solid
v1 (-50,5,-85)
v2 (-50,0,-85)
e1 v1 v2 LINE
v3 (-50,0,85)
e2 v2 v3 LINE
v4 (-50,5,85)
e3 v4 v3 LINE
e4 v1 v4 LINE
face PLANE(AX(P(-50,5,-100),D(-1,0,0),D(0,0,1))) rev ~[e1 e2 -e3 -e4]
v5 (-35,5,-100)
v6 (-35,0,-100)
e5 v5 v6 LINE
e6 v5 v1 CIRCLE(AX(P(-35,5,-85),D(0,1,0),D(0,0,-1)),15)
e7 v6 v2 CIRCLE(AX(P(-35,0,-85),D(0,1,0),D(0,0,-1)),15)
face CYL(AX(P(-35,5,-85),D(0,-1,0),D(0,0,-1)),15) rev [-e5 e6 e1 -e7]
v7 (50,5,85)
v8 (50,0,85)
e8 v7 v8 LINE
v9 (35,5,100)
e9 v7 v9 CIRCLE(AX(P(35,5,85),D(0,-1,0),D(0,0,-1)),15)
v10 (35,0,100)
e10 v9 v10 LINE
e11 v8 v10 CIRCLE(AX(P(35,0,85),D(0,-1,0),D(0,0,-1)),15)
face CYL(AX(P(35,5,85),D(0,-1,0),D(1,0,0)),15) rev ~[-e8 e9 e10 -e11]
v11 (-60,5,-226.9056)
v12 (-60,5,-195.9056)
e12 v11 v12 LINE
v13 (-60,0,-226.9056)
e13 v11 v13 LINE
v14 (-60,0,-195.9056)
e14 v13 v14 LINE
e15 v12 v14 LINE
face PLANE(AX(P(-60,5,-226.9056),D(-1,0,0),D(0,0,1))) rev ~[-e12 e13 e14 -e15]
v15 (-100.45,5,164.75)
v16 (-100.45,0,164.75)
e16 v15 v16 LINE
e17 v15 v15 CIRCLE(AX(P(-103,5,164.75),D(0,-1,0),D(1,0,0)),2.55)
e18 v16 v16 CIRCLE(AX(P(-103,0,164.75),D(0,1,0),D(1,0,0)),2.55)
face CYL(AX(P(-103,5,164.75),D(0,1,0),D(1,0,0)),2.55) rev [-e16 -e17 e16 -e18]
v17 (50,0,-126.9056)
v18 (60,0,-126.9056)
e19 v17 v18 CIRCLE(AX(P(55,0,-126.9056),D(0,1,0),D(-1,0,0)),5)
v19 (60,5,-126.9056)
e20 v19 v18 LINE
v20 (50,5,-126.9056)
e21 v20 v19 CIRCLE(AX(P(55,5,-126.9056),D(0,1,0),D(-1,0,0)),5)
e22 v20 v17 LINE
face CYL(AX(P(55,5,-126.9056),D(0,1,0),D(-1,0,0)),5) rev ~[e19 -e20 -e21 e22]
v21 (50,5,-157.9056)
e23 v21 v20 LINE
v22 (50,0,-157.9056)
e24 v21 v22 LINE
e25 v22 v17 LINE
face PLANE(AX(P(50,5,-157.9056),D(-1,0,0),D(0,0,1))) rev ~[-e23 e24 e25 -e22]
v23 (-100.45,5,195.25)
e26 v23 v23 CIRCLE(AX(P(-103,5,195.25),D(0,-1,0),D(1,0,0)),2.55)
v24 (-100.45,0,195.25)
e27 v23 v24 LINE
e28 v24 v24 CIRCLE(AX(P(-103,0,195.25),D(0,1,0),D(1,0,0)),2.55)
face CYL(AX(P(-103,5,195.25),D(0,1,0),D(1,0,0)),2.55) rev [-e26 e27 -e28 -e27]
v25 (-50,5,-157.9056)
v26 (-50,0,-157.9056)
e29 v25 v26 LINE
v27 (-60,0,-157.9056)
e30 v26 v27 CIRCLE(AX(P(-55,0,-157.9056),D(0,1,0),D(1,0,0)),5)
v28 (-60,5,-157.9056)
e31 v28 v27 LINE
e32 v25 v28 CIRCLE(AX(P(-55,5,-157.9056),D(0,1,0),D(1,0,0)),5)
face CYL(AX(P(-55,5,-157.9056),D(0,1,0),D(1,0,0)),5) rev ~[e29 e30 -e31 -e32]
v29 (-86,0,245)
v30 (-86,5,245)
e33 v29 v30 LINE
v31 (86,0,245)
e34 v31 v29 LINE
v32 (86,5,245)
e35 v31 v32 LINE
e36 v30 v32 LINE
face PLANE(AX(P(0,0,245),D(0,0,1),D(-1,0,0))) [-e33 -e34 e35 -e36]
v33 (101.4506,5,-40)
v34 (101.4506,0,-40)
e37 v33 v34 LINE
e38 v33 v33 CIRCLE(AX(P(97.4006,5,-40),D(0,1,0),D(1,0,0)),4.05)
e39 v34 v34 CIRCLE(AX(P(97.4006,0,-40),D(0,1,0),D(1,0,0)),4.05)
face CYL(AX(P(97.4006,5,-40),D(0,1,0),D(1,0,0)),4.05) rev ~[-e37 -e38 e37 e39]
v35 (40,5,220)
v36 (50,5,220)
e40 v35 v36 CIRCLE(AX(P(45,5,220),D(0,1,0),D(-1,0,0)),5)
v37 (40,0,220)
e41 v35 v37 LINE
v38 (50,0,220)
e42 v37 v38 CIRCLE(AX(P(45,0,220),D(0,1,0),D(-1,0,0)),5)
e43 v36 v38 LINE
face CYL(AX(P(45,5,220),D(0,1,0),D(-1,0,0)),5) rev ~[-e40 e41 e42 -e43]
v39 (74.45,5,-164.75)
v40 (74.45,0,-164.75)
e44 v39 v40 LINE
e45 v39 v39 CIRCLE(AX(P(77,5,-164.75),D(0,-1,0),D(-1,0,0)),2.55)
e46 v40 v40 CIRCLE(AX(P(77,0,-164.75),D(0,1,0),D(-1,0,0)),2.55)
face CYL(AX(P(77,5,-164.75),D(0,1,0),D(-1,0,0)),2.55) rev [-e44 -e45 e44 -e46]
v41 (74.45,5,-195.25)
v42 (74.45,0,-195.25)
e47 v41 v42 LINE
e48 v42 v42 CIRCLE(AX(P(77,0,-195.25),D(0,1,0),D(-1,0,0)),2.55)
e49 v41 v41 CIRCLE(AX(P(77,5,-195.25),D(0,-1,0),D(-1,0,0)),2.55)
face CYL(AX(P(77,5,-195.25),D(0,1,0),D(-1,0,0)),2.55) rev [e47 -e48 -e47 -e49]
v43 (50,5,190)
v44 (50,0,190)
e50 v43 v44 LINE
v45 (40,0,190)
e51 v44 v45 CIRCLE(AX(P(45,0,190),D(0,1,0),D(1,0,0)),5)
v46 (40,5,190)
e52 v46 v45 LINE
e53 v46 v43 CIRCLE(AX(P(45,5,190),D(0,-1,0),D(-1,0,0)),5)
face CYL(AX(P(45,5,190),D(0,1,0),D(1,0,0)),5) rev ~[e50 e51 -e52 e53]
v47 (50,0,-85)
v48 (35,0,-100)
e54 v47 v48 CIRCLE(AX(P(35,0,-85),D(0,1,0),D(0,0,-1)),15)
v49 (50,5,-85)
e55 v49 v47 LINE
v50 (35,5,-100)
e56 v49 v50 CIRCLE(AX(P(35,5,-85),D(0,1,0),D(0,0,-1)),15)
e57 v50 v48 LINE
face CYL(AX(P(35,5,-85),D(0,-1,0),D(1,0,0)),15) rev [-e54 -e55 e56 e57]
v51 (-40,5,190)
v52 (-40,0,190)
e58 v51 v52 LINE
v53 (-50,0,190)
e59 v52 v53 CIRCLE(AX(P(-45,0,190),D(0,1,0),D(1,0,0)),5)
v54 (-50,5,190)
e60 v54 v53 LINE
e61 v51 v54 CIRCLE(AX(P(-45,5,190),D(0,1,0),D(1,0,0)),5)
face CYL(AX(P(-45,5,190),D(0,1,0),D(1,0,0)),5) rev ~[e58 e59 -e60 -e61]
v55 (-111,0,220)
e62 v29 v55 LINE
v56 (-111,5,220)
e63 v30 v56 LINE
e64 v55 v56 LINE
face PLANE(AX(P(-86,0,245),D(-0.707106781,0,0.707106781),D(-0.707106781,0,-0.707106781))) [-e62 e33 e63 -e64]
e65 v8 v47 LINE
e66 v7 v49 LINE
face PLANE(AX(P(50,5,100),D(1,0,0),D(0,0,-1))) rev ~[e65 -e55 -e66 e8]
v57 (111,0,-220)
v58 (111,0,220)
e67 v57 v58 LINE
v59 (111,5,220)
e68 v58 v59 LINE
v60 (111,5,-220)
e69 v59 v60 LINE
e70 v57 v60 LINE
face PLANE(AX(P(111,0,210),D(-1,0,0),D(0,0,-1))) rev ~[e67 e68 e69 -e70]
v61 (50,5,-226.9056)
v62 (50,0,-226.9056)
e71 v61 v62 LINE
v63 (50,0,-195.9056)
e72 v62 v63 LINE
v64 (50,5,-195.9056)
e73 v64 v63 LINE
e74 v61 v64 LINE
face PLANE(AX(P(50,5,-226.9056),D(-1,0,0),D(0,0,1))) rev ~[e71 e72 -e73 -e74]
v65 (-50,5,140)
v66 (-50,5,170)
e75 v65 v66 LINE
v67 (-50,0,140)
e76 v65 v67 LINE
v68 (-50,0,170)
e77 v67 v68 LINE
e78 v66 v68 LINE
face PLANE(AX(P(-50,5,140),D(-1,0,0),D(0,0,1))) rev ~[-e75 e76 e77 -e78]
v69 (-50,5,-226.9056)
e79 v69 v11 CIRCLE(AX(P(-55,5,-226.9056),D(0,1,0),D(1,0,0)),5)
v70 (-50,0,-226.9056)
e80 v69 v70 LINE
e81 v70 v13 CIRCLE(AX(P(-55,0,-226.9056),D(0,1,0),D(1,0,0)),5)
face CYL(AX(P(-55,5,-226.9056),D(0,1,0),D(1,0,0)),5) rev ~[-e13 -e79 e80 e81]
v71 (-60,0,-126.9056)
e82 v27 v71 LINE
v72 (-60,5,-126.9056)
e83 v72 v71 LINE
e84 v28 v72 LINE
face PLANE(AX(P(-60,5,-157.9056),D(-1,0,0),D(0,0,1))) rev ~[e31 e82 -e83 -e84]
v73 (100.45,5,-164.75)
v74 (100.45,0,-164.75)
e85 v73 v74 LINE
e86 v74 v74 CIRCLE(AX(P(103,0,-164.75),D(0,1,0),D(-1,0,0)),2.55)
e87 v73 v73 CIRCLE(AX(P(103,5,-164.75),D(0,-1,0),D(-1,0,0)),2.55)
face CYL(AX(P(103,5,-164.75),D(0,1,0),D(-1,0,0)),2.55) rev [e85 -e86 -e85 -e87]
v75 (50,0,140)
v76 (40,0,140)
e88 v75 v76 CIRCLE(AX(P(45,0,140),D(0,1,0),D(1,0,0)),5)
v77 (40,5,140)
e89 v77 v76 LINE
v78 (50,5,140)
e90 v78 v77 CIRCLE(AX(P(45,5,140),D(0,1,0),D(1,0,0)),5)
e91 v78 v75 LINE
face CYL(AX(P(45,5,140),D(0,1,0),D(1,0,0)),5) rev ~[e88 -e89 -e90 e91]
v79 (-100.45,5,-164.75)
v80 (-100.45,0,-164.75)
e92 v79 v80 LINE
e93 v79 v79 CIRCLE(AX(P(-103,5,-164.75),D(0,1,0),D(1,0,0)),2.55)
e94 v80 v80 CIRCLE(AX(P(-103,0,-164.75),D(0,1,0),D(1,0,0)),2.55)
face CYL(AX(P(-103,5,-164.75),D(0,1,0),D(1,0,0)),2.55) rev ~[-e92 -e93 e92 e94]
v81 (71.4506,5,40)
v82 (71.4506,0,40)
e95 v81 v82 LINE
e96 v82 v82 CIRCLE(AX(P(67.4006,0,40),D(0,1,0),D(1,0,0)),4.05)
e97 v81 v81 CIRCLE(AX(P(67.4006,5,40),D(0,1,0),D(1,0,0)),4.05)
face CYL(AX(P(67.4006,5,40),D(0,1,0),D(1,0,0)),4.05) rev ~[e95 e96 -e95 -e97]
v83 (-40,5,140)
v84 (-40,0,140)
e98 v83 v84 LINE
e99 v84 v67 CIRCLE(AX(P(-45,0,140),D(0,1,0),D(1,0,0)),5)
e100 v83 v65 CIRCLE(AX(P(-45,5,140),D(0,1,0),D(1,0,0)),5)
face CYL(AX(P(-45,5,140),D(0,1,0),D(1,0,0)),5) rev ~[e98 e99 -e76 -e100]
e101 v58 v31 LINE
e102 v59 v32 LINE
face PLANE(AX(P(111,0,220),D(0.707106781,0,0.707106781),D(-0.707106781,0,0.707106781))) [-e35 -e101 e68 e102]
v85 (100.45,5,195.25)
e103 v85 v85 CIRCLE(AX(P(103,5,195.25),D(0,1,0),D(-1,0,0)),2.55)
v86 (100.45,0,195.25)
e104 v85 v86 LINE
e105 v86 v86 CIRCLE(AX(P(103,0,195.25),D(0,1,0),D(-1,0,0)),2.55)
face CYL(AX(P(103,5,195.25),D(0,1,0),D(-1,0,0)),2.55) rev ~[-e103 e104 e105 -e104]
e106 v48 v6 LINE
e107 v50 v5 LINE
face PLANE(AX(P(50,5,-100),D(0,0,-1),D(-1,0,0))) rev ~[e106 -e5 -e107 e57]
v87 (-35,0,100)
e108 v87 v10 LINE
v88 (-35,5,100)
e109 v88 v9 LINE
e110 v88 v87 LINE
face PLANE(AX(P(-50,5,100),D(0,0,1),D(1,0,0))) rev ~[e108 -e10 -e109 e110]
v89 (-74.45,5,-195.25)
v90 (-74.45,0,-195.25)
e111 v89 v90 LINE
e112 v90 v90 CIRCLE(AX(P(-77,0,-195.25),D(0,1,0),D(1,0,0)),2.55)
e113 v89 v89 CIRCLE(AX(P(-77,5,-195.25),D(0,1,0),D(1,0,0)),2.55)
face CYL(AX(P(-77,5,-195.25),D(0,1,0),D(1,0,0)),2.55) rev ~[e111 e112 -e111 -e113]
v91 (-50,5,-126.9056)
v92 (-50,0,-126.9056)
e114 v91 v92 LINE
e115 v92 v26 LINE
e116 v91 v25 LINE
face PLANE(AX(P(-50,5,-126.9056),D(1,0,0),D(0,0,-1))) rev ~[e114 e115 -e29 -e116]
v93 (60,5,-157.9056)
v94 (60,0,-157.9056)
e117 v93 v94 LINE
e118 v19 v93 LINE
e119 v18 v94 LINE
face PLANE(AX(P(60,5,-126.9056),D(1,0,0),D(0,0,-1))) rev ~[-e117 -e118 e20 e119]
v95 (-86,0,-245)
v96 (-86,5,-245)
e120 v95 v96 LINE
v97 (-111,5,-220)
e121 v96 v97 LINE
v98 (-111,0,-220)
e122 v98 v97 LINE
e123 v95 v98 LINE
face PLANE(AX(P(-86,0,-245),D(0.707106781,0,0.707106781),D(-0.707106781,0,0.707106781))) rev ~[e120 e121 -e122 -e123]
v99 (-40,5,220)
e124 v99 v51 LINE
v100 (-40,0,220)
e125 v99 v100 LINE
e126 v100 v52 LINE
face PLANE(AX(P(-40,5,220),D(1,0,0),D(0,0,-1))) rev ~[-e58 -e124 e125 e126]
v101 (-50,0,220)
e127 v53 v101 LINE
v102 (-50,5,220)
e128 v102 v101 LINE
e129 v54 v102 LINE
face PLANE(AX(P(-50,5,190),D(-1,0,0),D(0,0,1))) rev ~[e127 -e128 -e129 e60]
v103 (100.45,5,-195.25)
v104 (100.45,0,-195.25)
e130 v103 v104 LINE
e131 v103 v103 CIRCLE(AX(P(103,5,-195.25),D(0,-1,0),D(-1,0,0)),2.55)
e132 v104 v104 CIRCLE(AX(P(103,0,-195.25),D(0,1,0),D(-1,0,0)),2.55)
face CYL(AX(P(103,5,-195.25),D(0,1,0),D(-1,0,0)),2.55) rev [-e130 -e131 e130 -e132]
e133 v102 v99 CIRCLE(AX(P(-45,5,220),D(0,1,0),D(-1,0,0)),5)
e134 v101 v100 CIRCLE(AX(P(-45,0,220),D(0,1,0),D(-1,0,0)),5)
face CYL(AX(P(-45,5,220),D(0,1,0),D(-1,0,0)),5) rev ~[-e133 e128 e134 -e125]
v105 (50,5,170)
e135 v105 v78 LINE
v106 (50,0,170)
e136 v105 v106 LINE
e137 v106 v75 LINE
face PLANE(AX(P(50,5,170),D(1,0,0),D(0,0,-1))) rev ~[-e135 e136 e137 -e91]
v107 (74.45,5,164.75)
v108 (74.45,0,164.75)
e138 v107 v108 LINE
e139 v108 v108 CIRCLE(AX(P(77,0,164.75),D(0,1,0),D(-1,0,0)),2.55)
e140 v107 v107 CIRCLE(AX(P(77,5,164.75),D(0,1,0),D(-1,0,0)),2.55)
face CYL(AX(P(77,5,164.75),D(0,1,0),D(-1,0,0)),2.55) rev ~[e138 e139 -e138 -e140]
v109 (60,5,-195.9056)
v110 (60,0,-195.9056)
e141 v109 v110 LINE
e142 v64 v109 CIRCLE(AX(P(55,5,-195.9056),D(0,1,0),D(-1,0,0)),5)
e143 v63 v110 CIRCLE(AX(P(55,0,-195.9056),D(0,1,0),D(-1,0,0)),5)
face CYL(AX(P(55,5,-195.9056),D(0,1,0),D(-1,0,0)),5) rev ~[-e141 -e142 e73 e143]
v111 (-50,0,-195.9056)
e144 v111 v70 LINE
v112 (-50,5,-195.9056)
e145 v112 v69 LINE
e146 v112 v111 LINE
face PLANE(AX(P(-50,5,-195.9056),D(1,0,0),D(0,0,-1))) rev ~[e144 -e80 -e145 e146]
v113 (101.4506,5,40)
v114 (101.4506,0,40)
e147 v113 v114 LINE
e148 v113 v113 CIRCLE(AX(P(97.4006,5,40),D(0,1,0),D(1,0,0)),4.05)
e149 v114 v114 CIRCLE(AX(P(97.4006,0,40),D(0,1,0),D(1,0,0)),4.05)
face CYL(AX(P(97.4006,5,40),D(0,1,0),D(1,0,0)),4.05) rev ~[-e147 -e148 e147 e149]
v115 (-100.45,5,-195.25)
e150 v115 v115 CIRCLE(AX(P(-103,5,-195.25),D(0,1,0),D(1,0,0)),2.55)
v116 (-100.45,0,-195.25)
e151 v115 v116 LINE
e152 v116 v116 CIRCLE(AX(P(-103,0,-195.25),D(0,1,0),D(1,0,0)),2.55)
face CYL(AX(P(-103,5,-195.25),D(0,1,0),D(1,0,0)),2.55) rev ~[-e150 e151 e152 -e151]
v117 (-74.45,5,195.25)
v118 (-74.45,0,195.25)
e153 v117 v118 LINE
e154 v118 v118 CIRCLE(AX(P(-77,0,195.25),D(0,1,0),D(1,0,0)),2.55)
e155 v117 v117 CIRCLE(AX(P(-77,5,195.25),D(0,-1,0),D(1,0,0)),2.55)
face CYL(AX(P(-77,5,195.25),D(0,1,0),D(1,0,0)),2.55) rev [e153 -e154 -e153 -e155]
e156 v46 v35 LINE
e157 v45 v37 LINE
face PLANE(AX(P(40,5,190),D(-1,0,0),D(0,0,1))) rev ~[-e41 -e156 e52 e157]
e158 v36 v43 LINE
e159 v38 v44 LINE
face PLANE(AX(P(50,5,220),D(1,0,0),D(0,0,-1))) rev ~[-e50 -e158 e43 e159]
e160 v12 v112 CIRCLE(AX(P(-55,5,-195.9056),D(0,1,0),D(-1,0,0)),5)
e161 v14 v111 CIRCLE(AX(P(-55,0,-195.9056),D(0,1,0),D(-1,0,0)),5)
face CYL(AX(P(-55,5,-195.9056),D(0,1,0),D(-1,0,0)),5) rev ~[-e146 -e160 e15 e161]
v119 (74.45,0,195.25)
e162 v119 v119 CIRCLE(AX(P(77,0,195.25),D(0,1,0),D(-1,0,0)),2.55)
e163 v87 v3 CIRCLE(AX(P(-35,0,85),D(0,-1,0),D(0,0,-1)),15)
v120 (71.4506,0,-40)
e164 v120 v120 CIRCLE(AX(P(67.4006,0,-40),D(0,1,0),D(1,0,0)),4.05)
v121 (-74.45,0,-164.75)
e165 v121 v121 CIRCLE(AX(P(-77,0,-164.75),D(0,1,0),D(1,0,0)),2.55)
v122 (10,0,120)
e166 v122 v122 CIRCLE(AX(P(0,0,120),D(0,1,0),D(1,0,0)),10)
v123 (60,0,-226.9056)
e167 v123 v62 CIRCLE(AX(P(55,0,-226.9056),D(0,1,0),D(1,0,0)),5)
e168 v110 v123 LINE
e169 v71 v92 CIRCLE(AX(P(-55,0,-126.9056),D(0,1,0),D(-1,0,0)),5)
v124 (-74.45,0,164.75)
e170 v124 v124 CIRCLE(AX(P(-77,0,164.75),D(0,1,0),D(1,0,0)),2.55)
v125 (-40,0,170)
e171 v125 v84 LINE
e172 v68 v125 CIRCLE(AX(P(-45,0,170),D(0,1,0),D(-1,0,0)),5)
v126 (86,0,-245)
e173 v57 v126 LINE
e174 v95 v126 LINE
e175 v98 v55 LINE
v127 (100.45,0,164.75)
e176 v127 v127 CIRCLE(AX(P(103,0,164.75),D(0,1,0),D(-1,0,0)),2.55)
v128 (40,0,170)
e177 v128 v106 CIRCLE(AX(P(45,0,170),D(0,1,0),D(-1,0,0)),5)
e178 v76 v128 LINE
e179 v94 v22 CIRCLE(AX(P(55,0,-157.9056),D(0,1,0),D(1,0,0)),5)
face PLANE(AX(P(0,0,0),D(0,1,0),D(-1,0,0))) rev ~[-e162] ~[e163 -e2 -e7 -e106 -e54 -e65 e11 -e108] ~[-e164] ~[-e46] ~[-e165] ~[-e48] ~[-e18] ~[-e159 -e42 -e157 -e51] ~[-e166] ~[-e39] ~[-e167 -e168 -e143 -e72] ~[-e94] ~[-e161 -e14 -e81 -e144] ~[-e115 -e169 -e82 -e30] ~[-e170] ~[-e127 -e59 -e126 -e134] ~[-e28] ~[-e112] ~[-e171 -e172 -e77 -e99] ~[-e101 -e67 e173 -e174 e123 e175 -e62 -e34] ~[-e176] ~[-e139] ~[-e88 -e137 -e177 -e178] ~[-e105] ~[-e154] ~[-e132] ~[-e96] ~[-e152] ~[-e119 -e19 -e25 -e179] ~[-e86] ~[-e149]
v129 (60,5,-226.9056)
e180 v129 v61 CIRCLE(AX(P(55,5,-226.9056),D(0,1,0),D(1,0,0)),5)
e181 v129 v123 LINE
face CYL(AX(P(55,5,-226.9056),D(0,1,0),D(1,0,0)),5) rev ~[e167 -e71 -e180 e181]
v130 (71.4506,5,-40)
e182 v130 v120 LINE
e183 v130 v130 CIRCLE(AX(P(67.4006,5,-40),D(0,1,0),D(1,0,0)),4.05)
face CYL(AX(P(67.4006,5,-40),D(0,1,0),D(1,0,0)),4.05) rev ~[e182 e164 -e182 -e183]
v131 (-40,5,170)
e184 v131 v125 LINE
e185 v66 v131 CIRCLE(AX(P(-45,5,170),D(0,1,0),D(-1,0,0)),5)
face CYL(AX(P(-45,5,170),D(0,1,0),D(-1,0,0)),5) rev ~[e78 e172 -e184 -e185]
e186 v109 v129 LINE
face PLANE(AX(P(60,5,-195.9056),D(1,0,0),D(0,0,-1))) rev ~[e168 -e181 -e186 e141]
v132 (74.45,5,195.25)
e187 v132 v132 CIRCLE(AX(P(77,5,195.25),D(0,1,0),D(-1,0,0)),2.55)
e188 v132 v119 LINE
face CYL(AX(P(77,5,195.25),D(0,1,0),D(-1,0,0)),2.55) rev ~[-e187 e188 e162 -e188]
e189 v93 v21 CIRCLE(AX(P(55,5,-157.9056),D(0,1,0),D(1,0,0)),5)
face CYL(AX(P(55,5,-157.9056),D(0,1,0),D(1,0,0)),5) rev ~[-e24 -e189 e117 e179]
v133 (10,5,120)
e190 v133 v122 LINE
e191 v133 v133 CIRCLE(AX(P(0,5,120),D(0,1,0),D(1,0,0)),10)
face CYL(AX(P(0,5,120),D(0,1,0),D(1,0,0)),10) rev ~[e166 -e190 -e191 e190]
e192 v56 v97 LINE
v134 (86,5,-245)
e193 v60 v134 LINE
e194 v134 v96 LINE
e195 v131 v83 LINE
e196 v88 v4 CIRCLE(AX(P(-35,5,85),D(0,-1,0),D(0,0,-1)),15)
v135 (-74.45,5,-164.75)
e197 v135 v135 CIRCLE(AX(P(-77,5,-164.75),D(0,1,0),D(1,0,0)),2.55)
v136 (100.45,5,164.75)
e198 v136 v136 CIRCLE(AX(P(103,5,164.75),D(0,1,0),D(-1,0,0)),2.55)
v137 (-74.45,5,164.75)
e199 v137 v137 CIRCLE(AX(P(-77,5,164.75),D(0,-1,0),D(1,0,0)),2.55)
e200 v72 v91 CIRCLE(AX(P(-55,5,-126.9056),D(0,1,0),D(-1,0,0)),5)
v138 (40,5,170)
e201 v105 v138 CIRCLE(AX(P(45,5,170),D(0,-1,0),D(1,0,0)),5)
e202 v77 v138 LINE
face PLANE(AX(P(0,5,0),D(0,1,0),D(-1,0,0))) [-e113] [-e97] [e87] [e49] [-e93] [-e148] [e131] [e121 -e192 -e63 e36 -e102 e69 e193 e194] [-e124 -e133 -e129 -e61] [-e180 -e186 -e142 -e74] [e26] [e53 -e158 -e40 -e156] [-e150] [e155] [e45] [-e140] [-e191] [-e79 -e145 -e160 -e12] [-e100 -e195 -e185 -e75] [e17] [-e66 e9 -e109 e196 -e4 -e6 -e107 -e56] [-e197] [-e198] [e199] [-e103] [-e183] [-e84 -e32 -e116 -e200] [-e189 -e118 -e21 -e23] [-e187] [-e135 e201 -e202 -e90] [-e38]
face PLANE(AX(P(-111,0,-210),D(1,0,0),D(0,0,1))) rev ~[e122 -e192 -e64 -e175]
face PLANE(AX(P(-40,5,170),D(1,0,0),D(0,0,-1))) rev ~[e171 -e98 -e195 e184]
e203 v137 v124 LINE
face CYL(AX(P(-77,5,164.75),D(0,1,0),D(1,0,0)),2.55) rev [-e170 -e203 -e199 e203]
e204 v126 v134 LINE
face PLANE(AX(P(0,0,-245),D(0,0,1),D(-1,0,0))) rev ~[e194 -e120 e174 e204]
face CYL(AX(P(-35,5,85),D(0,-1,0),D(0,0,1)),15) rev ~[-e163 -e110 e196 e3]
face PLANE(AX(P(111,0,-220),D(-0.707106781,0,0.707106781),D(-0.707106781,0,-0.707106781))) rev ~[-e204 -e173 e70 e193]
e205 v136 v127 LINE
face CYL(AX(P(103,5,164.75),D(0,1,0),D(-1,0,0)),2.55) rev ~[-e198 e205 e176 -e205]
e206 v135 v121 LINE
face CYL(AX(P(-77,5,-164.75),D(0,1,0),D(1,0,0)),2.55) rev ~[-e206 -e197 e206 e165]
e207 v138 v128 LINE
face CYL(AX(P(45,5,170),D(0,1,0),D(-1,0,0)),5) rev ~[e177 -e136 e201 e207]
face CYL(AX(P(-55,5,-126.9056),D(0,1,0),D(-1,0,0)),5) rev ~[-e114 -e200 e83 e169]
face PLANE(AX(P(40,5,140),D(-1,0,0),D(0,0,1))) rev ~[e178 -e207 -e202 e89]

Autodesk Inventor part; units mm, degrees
ref_plane "YZ Plane" through (0, 0, 0) normal (1, 0, 0) x (0, 1, 0)
ref_plane "XZ Plane" through (0, 0, 0) normal (0, 1, 0) x (-1, 0, 0)
ref_plane "XY Plane" through (0, 0, 0) normal (0, 0, 1) x (1, 0, 0)
sketch "Sketch1" plane through (0, 0, 0) normal (0, 1, 0) x (-1, 0, 0)
  line L0 (111, 210) -> (-111, 210)
  line L1 (-111, 210) -> (-111, -210)
  line L2 (-111, -210) -> (111, -210)
  line L3 (111, -210) -> (111, 210)
  line L4 (111, 210) -> (-111, -210) construction
  line L5 (-111, 210) -> (111, -210) construction
  line L6 (111, -210) -> (75, -210) construction
  line L7 (75, -210) -> (75, -168) construction
  line L8 (75, -168) -> (111, -168) construction
  line L9 (111, -168) -> (111, -210) construction
  line L10 (-111, -210) -> (-75, -210) construction
  line L11 (-75, -210) -> (-75, -168) construction
  line L12 (-75, -168) -> (-111, -168) construction
  line L13 (-111, -168) -> (-111, -210) construction
  line L14 (-111, 210) -> (-75, 210) construction
  line L15 (-75, 210) -> (-75, 209.4774) construction
  line L16 (-75, 209.4774) -> (-111, 209.4774) construction
  line L17 (-111, 209.4774) -> (-111, 210) construction
  line L18 (111, 210) -> (75, 210) construction
  line L19 (75, 210) -> (75, 209.4774) construction
  line L20 (75, 209.4774) -> (111, 209.4774) construction
  line L21 (111, 209.4774) -> (111, 210) construction
  line L22 (75, -100) -> (-75, -100) construction
  line L23 (-75, -100) -> (-75, -210) construction
  line L24 (-75, -210) -> (75, -210) construction
  line L25 (75, -210) -> (75, -100) construction
  line L26 (75, -100) -> (-75, -210) construction
  line L27 (-75, -100) -> (75, -210) construction
  line L28 (37.5, 210) -> (-37.5, 210) construction
  line L29 (-37.5, 210) -> (-37.5, 60) construction
  line L30 (-37.5, 60) -> (37.5, 60) construction
  line L31 (37.5, 60) -> (37.5, 210) construction
  line L32 (37.5, 210) -> (-37.5, 60) construction
  line L33 (-37.5, 210) -> (37.5, 60) construction
  line L34 (-111, -210) -> (-111, -220)
  line L35 (-111, -220) -> (-86, -245)
  line L36 (-86, -245) -> (0, -245)
  line L37 (0, -245) -> (86, -245)
  line L38 (86, -245) -> (111, -220)
  line L39 (111, -220) -> (111, -210)
  line L40 (0, 0) -> (111, 0) construction
  line L41 (-111, 210) -> (111, 210)
  line L42 (-111, 210) -> (-111, 220)
  line L43 (-111, 220) -> (-86, 245)
  line L44 (-86, 245) -> (0, 245)
  line L45 (0, 245) -> (86, 245)
  line L46 (86, 245) -> (111, 220)
  line L47 (111, 220) -> (111, 210)
  point P0 (0, -155)
  point P1 (0, 135)
  point P2 (0, 210)
  dimension "d2" = 36
  dimension "d3" = 42
  dimension "d4" = 150
  dimension "d6" = 150
  dimension "d7" = 75
  dimension "d8" = 160
  dimension "d9" = 222
  dimension "d10" = 420
  dimension "d26" = 10
  dimension "d27" = 45
  dimension "d28" = 145
  dimension "d29" = 25
  dimension "d30" = 45
extrude "Base" add sketch "Sketch1" along normal blind 5
sketch "Sketch2" plane through (0, 5, 0) normal (0, 1, 0) x (1, 0, 0)
  line L0 (111, -220) -> (111, 220) projected
  line L1 (-111, 220) -> (-111, -220) projected
  line L2 (-72, 159) -> (-108, 159)
  line L3 (-108, 159) -> (-108, 201)
  line L4 (-108, 201) -> (-72, 201)
  line L5 (-72, 201) -> (-72, 159)
  line L6 (-72, 159) -> (-108, 201) construction
  line L7 (-108, 159) -> (-72, 201) construction
  circle A0 centre (-103, 195.25) radius 2.55
  circle A1 centre (-77, 195.25) radius 2.55
  circle A2 centre (-77, 164.75) radius 2.55
  circle A3 centre (-103, 164.75) radius 2.55
  line L8 (-111, -220) -> (-86, -245) projected
  line L9 (-86, -245) -> (86, -245) projected
  line L10 (86, -245) -> (111, -220) projected
  line L11 (111, 220) -> (86, 245) projected
  line L12 (86, 245) -> (-86, 245) projected
  line L13 (-86, 245) -> (-111, 220) projected
  point P0 (0, 0)
  point P1 (-90, 180)
  dimension "d13" = 36
  dimension "d14" = 42
  dimension "d16" = 5
  dimension "d18" = 5.75
  dimension "d31" = 5.75
  dimension "d33" = 5
  dimension "d34" = 3
  dimension "d35" = 180
  dimension "d37" = 5.1
extrude "Rodamiento" cut sketch "Sketch2" against normal through all contours A0 | A1 | A2 | A3
mirror "Mirror1" about plane through (0, 0, 0) normal (1, 0, 0) of "Rodamiento"
mirror "Mirror2" about plane through (0, 0, 0) normal (0, 0, 1) of "Rodamiento", "Mirror1"
sketch "Sketch4" plane through (0, 5, 0) normal (0, 1, 0) x (1, 0, 0)
  line L0 (-55, 157.9056) -> (-55, 126.9056) construction
  line L1 (-60, 157.9056) -> (-60, 126.9056)
  line L2 (-50, 126.9056) -> (-50, 157.9056)
  arc A0 (-50, 157.9056) -> (-60, 157.9056) centre (-55, 157.9056) ccw
  arc A1 (-60, 126.9056) -> (-50, 126.9056) centre (-55, 126.9056) ccw
  line L3 (55, 157.9056) -> (55, 126.9056) construction
  line L4 (50, 157.9056) -> (50, 126.9056)
  line L5 (60, 126.9056) -> (60, 157.9056)
  arc A2 (60, 157.9056) -> (50, 157.9056) centre (55, 157.9056) ccw
  arc A3 (50, 126.9056) -> (60, 126.9056) centre (55, 126.9056) ccw
  line L6 (-55, 226.9056) -> (-55, 195.9056) construction
  line L7 (-60, 226.9056) -> (-60, 195.9056)
  line L8 (-50, 195.9056) -> (-50, 226.9056)
  arc A4 (-50, 226.9056) -> (-60, 226.9056) centre (-55, 226.9056) ccw
  arc A5 (-60, 195.9056) -> (-50, 195.9056) centre (-55, 195.9056) ccw
  line L9 (55, 226.9056) -> (55, 195.9056) construction
  line L10 (50, 226.9056) -> (50, 195.9056)
  line L11 (60, 195.9056) -> (60, 226.9056)
  arc A6 (60, 226.9056) -> (50, 226.9056) centre (55, 226.9056) ccw
  arc A7 (50, 195.9056) -> (60, 195.9056) centre (55, 195.9056) ccw
  line L12 (-55, 211.4056) -> (55, 211.4056) construction
  line L13 (86, 245) -> (-86, 245) construction
  point P0 (0, 0)
  point P1 (-55, 142.4056)
  point P2 (55, 142.4056)
  point P3 (0, 245)
  point P4 (0, 211.4056)
  dimension "d38" = 10
  dimension "d40" = 10
  dimension "d42" = 10
  dimension "d43" = 31
  dimension "d44" = 10
  dimension "d47" = 110
  dimension "d78" = 100
extrude "Extrusion4" cut sketch "Sketch4" against normal through all
sketch "Sketch6" plane through (0, 5, 0) normal (0, 1, 0) x (1, 0, 0)
  line L0 (50, 100) -> (-50, 100)
  line L1 (-50, 100) -> (-50, -100)
  line L2 (-50, -100) -> (50, -100)
  line L3 (50, -100) -> (50, 100)
  line L4 (50, 100) -> (-50, -100) construction
  line L5 (-50, 100) -> (50, -100) construction
  point P0 (0, 0)
  dimension "d55" = 100
  dimension "d56" = 200
extrude "Extrusion6" cut sketch "Sketch6" against normal blind 20
sketch "Sketch10" plane through (0, 5, 0) normal (0, 1, 0) x (1, 0, 0)
  circle A0 centre (0, -120) radius 10
  line L0 (50, -100) -> (-50, -100) projected
  point P0 (0, 0)
  dimension "d71" = 20
  dimension "d77" = 20
extrude "Extrusion10" cut sketch "Sketch10" against normal through all
fillet "Fillet1" radius 15 4 edges at (50, 2.5, -100) (-50, 2.5, -100) (-50, 2.5, 100) (50, 2.5, 100)
sketch "Sketch12" plane through (0, 5, 0) normal (0, 1, 0) x (1, 0, 0)
  line L0 (45, -190) -> (45, -220) construction
  line L1 (40, -190) -> (40, -220)
  line L2 (50, -220) -> (50, -190)
  arc A0 (50, -190) -> (40, -190) centre (45, -190) ccw
  arc A1 (40, -220) -> (50, -220) centre (45, -220) ccw
  line L3 (-45, -190) -> (-45, -220) construction
  line L4 (-50, -190) -> (-50, -220)
  line L5 (-40, -220) -> (-40, -190)
  arc A2 (-40, -190) -> (-50, -190) centre (-45, -190) ccw
  arc A3 (-50, -220) -> (-40, -220) centre (-45, -220) ccw
  line L6 (45, -205) -> (-45, -205) construction
  circle A4 centre (0, -120) radius 10 projected
  line L7 (-50, -85) -> (-50, 85) projected
  arc A5 (-35, 100) -> (-50, 85) centre (-35, 85) ccw projected
  line L8 (-35, 100) -> (35, 100) projected
  arc A6 (50, 85) -> (35, 100) centre (35, 85) ccw projected
  line L9 (50, 85) -> (50, -85) projected
  arc A7 (35, -100) -> (50, -85) centre (35, -85) ccw projected
  line L10 (35, -100) -> (-35, -100) projected
  arc A8 (-50, -85) -> (-35, -100) centre (-35, -85) ccw projected
  arc A9 (-60, 195.9056) -> (-50, 195.9056) centre (-55, 195.9056) ccw projected
  line L11 (-60, 195.9056) -> (-60, 226.9056) projected
  arc A10 (-50, 226.9056) -> (-60, 226.9056) centre (-55, 226.9056) ccw projected
  line L12 (-50, 226.9056) -> (-50, 195.9056) projected
  arc A11 (-60, 126.9056) -> (-50, 126.9056) centre (-55, 126.9056) ccw projected
  line L13 (-60, 126.9056) -> (-60, 157.9056) projected
  arc A12 (-50, 157.9056) -> (-60, 157.9056) centre (-55, 157.9056) ccw projected
  line L14 (-50, 157.9056) -> (-50, 126.9056) projected
  arc A13 (50, 126.9056) -> (60, 126.9056) centre (55, 126.9056) ccw projected
  line L15 (50, 126.9056) -> (50, 157.9056) projected
  arc A14 (60, 157.9056) -> (50, 157.9056) centre (55, 157.9056) ccw projected
  line L16 (60, 157.9056) -> (60, 126.9056) projected
  arc A15 (50, 195.9056) -> (60, 195.9056) centre (55, 195.9056) ccw projected
  line L17 (50, 195.9056) -> (50, 226.9056) projected
  arc A16 (60, 226.9056) -> (50, 226.9056) centre (55, 226.9056) ccw projected
  line L18 (60, 226.9056) -> (60, 195.9056) projected
  circle A17 centre (77, -164.75) radius 2.55 projected
  circle A18 centre (103, -164.75) radius 2.55 projected
  circle A19 centre (77, -195.25) radius 2.55 projected
  circle A20 centre (103, -195.25) radius 2.55 projected
  circle A21 centre (-77, -164.75) radius 2.55 projected
  circle A22 centre (-103, -164.75) radius 2.55 projected
  circle A23 centre (-77, -195.25) radius 2.55 projected
  circle A24 centre (-103, -195.25) radius 2.55 projected
  circle A25 centre (77, 164.75) radius 2.55 projected
  circle A26 centre (103, 164.75) radius 2.55 projected
  circle A27 centre (77, 195.25) radius 2.55 projected
  circle A28 centre (103, 195.25) radius 2.55 projected
  circle A29 centre (-77, 164.75) radius 2.55 projected
  circle A30 centre (-103, 195.25) radius 2.55 projected
  circle A31 centre (-77, 195.25) radius 2.55 projected
  circle A32 centre (-103, 164.75) radius 2.55 projected
  line L19 (-111, 220) -> (-111, -220) projected
  line L20 (-111, -220) -> (-86, -245) projected
  line L21 (-86, -245) -> (86, -245) projected
  line L22 (86, -245) -> (111, -220) projected
  line L23 (111, -220) -> (111, 220) projected
  line L24 (111, 220) -> (86, 245) projected
  line L25 (86, 245) -> (-86, 245) projected
  line L26 (-86, 245) -> (-111, 220) projected
  line L27 (103, -164.75) -> (77, -195.25) construction
  line L28 (45, -140) -> (45, -170) construction
  line L29 (40, -140) -> (40, -170)
  line L30 (50, -170) -> (50, -140)
  arc A33 (50, -140) -> (40, -140) centre (45, -140) ccw
  arc A34 (40, -170) -> (50, -170) centre (45, -170) ccw
  line L31 (-45, -140) -> (-45, -170) construction
  line L32 (-50, -140) -> (-50, -170)
  line L33 (-40, -170) -> (-40, -140)
  arc A35 (-40, -140) -> (-50, -140) centre (-45, -140) ccw
  arc A36 (-50, -170) -> (-40, -170) centre (-45, -170) ccw
  line L34 (45, -155) -> (-45, -155) construction
  line L35 (45, -140) -> (45, -220)
  point P0 (0, 0)
  point P1 (0, -205)
  point P2 (90, -180)
  point P3 (0, -155)
  point P4 (45, -180)
  dimension "d79" = 90
  dimension "d80" = 5
  dimension "d81" = 30
  dimension "d84" = 90
  dimension "d85" = 5
  dimension "d86" = 30
  dimension "d88" = 50
extrude "Extrusion12" cut sketch "Sketch12" against normal through all contours A0 L2 A1 L1 | A34 L29 A33 L30 | A2 L5 A3 L4 | A35 L33 A36 L32
sketch "Sketch15" plane through (0, 5, 0) normal (0, 1, 0) x (1, 0, 0)
  circle A0 centre (97.4006, 40) radius 4.05
  circle A1 centre (67.4006, 40) radius 4.05
  circle A2 centre (97.4006, -40) radius 4.05
  circle A3 centre (67.4006, -40) radius 4.05
  line L0 (67.4006, 40) -> (97.4006, 40) construction
  line L1 (97.4006, 40) -> (97.4006, -40) construction
  line L2 (97.4006, -40) -> (67.4006, -40) construction
  line L3 (67.4006, -40) -> (67.4006, 40) construction
  line L4 (67.4006, 40) -> (97.4006, -40) construction
  line L5 (97.4006, 40) -> (67.4006, -40) construction
  point P0 (0, 0)
  point P1 (82.4006, 0)
  point P2 (82.4006, 0)
  dimension "d94" = 8.1
  dimension "d95" = 30
  dimension "d96" = 80
extrude "Extrusion14" cut sketch "Sketch15" against normal through all
sketch "Sketch13" plane through (0, 5, 0) normal (0, 1, 0) x (1, 0, 0)
  line L0 (95.5, 45) -> (65.5, 45) construction
  line L1 (95.5, 49) -> (65.5, 49)
  line L2 (65.5, 41) -> (95.5, 41)
  arc A0 (95.5, 41) -> (95.5, 49) centre (95.5, 45) ccw
  arc A1 (65.5, 49) -> (65.5, 41) centre (65.5, 45) ccw
  line L3 (95.5, -45) -> (65.5, -45) construction
  line L4 (95.5, -41) -> (65.5, -41)
  line L5 (65.5, -49) -> (95.5, -49)
  arc A2 (95.5, -49) -> (95.5, -41) centre (95.5, -45) ccw
  arc A3 (65.5, -41) -> (65.5, -49) centre (65.5, -45) ccw
  line L6 (80.5, 45) -> (80.5, -45) construction
  arc A4 (-40, -140) -> (-50, -140) centre (-45, -140) ccw projected
  line L7 (-40, -140) -> (-40, -170) projected
  arc A5 (-50, -170) -> (-40, -170) centre (-45, -170) ccw projected
  line L8 (-50, -170) -> (-50, -140) projected
  arc A6 (40, -220) -> (50, -220) centre (45, -220) ccw projected
  line L9 (40, -220) -> (40, -190) projected
  arc A7 (50, -190) -> (40, -190) centre (45, -190) ccw projected
  line L10 (50, -190) -> (50, -220) projected
  arc A8 (-50, -220) -> (-40, -220) centre (-45, -220) ccw projected
  line L11 (-50, -220) -> (-50, -190) projected
  arc A9 (-40, -190) -> (-50, -190) centre (-45, -190) ccw projected
  line L12 (-40, -190) -> (-40, -220) projected
  arc A10 (40, -170) -> (50, -170) centre (45, -170) ccw projected
  line L13 (40, -170) -> (40, -140) projected
  arc A11 (50, -140) -> (40, -140) centre (45, -140) ccw projected
  line L14 (50, -140) -> (50, -170) projected
  circle A12 centre (0, -120) radius 10 projected
  line L15 (-50, -85) -> (-50, 85) projected
  arc A13 (-35, 100) -> (-50, 85) centre (-35, 85) ccw projected
  line L16 (-35, 100) -> (35, 100) projected
  arc A14 (50, 85) -> (35, 100) centre (35, 85) ccw projected
  line L17 (50, 85) -> (50, -85) projected
  arc A15 (35, -100) -> (50, -85) centre (35, -85) ccw projected
  line L18 (35, -100) -> (-35, -100) projected
  arc A16 (-50, -85) -> (-35, -100) centre (-35, -85) ccw projected
  arc A17 (-60, 195.9056) -> (-50, 195.9056) centre (-55, 195.9056) ccw projected
  line L19 (-60, 195.9056) -> (-60, 226.9056) projected
  arc A18 (-50, 226.9056) -> (-60, 226.9056) centre (-55, 226.9056) ccw projected
  line L20 (-50, 226.9056) -> (-50, 195.9056) projected
  arc A19 (-60, 126.9056) -> (-50, 126.9056) centre (-55, 126.9056) ccw projected
  line L21 (-60, 126.9056) -> (-60, 157.9056) projected
  arc A20 (-50, 157.9056) -> (-60, 157.9056) centre (-55, 157.9056) ccw projected
  line L22 (-50, 157.9056) -> (-50, 126.9056) projected
  arc A21 (50, 126.9056) -> (60, 126.9056) centre (55, 126.9056) ccw projected
  line L23 (50, 126.9056) -> (50, 157.9056) projected
  arc A22 (60, 157.9056) -> (50, 157.9056) centre (55, 157.9056) ccw projected
  line L24 (60, 157.9056) -> (60, 126.9056) projected
  arc A23 (50, 195.9056) -> (60, 195.9056) centre (55, 195.9056) ccw projected
  line L25 (50, 195.9056) -> (50, 226.9056) projected
  arc A24 (60, 226.9056) -> (50, 226.9056) centre (55, 226.9056) ccw projected
  line L26 (60, 226.9056) -> (60, 195.9056) projected
  circle A25 centre (77, -164.75) radius 2.55 projected
  circle A26 centre (103, -164.75) radius 2.55 projected
  circle A27 centre (77, -195.25) radius 2.55 projected
  circle A28 centre (103, -195.25) radius 2.55 projected
  circle A29 centre (-77, -164.75) radius 2.55 projected
  circle A30 centre (-103, -164.75) radius 2.55 projected
  circle A31 centre (-77, -195.25) radius 2.55 projected
  circle A32 centre (-103, -195.25) radius 2.55 projected
  circle A33 centre (77, 164.75) radius 2.55 projected
  circle A34 centre (103, 164.75) radius 2.55 projected
  circle A35 centre (77, 195.25) radius 2.55 projected
  circle A36 centre (103, 195.25) radius 2.55 projected
  circle A37 centre (-77, 164.75) radius 2.55 projected
  circle A38 centre (-103, 195.25) radius 2.55 projected
  circle A39 centre (-77, 195.25) radius 2.55 projected
  circle A40 centre (-103, 164.75) radius 2.55 projected
  line L27 (-111, 220) -> (-111, -220) projected
  line L28 (-111, -220) -> (-86, -245) projected
  line L29 (-86, -245) -> (86, -245) projected
  line L30 (86, -245) -> (111, -220) projected
  line L31 (111, -220) -> (111, 220) projected
  line L32 (111, 220) -> (86, 245) projected
  line L33 (86, 245) -> (-86, 245) projected
  line L34 (-86, 245) -> (-111, 220) projected
  line L35 (111, 0) -> (50, 0) construction
  point P0 (0, 0)
  point P1 (80.5, 0)
  dimension "d89" = 90
  dimension "d90" = 30
  dimension "d91" = 4
equation "\"d2\" = Rodamiento_d_a"
equation "\"d3\" = Rodamiento_d_b"
equation "\"d13\" = Rodamiento_d_a"
equation "\"d14\" = Rodamiento_d_b"
equation "\"d16\" = d15"
equation "\"d18\" = Rodamiento_d__tornillo_2"
equation "\"d31\" = d18"
equation "\"d33\" = Rodamiento_d_tornillo_1"
equation "\"d15\" = Rodamiento_d_tornillo_1"
equation "\"d17\" = Rodamiento_d_tornillo_1"
equation "\"Rodamiento_d_a\" = 36"
equation "\"Rodamiento_d_b\" = 42"
equation "\"Rodamiento_d_tornillo_1\" = 5"
equation "\"Rodamiento_d__tornillo_2\" = 5.75"
properties part number "Plataina_eje_Y" material "Aluminum 1100-O"
